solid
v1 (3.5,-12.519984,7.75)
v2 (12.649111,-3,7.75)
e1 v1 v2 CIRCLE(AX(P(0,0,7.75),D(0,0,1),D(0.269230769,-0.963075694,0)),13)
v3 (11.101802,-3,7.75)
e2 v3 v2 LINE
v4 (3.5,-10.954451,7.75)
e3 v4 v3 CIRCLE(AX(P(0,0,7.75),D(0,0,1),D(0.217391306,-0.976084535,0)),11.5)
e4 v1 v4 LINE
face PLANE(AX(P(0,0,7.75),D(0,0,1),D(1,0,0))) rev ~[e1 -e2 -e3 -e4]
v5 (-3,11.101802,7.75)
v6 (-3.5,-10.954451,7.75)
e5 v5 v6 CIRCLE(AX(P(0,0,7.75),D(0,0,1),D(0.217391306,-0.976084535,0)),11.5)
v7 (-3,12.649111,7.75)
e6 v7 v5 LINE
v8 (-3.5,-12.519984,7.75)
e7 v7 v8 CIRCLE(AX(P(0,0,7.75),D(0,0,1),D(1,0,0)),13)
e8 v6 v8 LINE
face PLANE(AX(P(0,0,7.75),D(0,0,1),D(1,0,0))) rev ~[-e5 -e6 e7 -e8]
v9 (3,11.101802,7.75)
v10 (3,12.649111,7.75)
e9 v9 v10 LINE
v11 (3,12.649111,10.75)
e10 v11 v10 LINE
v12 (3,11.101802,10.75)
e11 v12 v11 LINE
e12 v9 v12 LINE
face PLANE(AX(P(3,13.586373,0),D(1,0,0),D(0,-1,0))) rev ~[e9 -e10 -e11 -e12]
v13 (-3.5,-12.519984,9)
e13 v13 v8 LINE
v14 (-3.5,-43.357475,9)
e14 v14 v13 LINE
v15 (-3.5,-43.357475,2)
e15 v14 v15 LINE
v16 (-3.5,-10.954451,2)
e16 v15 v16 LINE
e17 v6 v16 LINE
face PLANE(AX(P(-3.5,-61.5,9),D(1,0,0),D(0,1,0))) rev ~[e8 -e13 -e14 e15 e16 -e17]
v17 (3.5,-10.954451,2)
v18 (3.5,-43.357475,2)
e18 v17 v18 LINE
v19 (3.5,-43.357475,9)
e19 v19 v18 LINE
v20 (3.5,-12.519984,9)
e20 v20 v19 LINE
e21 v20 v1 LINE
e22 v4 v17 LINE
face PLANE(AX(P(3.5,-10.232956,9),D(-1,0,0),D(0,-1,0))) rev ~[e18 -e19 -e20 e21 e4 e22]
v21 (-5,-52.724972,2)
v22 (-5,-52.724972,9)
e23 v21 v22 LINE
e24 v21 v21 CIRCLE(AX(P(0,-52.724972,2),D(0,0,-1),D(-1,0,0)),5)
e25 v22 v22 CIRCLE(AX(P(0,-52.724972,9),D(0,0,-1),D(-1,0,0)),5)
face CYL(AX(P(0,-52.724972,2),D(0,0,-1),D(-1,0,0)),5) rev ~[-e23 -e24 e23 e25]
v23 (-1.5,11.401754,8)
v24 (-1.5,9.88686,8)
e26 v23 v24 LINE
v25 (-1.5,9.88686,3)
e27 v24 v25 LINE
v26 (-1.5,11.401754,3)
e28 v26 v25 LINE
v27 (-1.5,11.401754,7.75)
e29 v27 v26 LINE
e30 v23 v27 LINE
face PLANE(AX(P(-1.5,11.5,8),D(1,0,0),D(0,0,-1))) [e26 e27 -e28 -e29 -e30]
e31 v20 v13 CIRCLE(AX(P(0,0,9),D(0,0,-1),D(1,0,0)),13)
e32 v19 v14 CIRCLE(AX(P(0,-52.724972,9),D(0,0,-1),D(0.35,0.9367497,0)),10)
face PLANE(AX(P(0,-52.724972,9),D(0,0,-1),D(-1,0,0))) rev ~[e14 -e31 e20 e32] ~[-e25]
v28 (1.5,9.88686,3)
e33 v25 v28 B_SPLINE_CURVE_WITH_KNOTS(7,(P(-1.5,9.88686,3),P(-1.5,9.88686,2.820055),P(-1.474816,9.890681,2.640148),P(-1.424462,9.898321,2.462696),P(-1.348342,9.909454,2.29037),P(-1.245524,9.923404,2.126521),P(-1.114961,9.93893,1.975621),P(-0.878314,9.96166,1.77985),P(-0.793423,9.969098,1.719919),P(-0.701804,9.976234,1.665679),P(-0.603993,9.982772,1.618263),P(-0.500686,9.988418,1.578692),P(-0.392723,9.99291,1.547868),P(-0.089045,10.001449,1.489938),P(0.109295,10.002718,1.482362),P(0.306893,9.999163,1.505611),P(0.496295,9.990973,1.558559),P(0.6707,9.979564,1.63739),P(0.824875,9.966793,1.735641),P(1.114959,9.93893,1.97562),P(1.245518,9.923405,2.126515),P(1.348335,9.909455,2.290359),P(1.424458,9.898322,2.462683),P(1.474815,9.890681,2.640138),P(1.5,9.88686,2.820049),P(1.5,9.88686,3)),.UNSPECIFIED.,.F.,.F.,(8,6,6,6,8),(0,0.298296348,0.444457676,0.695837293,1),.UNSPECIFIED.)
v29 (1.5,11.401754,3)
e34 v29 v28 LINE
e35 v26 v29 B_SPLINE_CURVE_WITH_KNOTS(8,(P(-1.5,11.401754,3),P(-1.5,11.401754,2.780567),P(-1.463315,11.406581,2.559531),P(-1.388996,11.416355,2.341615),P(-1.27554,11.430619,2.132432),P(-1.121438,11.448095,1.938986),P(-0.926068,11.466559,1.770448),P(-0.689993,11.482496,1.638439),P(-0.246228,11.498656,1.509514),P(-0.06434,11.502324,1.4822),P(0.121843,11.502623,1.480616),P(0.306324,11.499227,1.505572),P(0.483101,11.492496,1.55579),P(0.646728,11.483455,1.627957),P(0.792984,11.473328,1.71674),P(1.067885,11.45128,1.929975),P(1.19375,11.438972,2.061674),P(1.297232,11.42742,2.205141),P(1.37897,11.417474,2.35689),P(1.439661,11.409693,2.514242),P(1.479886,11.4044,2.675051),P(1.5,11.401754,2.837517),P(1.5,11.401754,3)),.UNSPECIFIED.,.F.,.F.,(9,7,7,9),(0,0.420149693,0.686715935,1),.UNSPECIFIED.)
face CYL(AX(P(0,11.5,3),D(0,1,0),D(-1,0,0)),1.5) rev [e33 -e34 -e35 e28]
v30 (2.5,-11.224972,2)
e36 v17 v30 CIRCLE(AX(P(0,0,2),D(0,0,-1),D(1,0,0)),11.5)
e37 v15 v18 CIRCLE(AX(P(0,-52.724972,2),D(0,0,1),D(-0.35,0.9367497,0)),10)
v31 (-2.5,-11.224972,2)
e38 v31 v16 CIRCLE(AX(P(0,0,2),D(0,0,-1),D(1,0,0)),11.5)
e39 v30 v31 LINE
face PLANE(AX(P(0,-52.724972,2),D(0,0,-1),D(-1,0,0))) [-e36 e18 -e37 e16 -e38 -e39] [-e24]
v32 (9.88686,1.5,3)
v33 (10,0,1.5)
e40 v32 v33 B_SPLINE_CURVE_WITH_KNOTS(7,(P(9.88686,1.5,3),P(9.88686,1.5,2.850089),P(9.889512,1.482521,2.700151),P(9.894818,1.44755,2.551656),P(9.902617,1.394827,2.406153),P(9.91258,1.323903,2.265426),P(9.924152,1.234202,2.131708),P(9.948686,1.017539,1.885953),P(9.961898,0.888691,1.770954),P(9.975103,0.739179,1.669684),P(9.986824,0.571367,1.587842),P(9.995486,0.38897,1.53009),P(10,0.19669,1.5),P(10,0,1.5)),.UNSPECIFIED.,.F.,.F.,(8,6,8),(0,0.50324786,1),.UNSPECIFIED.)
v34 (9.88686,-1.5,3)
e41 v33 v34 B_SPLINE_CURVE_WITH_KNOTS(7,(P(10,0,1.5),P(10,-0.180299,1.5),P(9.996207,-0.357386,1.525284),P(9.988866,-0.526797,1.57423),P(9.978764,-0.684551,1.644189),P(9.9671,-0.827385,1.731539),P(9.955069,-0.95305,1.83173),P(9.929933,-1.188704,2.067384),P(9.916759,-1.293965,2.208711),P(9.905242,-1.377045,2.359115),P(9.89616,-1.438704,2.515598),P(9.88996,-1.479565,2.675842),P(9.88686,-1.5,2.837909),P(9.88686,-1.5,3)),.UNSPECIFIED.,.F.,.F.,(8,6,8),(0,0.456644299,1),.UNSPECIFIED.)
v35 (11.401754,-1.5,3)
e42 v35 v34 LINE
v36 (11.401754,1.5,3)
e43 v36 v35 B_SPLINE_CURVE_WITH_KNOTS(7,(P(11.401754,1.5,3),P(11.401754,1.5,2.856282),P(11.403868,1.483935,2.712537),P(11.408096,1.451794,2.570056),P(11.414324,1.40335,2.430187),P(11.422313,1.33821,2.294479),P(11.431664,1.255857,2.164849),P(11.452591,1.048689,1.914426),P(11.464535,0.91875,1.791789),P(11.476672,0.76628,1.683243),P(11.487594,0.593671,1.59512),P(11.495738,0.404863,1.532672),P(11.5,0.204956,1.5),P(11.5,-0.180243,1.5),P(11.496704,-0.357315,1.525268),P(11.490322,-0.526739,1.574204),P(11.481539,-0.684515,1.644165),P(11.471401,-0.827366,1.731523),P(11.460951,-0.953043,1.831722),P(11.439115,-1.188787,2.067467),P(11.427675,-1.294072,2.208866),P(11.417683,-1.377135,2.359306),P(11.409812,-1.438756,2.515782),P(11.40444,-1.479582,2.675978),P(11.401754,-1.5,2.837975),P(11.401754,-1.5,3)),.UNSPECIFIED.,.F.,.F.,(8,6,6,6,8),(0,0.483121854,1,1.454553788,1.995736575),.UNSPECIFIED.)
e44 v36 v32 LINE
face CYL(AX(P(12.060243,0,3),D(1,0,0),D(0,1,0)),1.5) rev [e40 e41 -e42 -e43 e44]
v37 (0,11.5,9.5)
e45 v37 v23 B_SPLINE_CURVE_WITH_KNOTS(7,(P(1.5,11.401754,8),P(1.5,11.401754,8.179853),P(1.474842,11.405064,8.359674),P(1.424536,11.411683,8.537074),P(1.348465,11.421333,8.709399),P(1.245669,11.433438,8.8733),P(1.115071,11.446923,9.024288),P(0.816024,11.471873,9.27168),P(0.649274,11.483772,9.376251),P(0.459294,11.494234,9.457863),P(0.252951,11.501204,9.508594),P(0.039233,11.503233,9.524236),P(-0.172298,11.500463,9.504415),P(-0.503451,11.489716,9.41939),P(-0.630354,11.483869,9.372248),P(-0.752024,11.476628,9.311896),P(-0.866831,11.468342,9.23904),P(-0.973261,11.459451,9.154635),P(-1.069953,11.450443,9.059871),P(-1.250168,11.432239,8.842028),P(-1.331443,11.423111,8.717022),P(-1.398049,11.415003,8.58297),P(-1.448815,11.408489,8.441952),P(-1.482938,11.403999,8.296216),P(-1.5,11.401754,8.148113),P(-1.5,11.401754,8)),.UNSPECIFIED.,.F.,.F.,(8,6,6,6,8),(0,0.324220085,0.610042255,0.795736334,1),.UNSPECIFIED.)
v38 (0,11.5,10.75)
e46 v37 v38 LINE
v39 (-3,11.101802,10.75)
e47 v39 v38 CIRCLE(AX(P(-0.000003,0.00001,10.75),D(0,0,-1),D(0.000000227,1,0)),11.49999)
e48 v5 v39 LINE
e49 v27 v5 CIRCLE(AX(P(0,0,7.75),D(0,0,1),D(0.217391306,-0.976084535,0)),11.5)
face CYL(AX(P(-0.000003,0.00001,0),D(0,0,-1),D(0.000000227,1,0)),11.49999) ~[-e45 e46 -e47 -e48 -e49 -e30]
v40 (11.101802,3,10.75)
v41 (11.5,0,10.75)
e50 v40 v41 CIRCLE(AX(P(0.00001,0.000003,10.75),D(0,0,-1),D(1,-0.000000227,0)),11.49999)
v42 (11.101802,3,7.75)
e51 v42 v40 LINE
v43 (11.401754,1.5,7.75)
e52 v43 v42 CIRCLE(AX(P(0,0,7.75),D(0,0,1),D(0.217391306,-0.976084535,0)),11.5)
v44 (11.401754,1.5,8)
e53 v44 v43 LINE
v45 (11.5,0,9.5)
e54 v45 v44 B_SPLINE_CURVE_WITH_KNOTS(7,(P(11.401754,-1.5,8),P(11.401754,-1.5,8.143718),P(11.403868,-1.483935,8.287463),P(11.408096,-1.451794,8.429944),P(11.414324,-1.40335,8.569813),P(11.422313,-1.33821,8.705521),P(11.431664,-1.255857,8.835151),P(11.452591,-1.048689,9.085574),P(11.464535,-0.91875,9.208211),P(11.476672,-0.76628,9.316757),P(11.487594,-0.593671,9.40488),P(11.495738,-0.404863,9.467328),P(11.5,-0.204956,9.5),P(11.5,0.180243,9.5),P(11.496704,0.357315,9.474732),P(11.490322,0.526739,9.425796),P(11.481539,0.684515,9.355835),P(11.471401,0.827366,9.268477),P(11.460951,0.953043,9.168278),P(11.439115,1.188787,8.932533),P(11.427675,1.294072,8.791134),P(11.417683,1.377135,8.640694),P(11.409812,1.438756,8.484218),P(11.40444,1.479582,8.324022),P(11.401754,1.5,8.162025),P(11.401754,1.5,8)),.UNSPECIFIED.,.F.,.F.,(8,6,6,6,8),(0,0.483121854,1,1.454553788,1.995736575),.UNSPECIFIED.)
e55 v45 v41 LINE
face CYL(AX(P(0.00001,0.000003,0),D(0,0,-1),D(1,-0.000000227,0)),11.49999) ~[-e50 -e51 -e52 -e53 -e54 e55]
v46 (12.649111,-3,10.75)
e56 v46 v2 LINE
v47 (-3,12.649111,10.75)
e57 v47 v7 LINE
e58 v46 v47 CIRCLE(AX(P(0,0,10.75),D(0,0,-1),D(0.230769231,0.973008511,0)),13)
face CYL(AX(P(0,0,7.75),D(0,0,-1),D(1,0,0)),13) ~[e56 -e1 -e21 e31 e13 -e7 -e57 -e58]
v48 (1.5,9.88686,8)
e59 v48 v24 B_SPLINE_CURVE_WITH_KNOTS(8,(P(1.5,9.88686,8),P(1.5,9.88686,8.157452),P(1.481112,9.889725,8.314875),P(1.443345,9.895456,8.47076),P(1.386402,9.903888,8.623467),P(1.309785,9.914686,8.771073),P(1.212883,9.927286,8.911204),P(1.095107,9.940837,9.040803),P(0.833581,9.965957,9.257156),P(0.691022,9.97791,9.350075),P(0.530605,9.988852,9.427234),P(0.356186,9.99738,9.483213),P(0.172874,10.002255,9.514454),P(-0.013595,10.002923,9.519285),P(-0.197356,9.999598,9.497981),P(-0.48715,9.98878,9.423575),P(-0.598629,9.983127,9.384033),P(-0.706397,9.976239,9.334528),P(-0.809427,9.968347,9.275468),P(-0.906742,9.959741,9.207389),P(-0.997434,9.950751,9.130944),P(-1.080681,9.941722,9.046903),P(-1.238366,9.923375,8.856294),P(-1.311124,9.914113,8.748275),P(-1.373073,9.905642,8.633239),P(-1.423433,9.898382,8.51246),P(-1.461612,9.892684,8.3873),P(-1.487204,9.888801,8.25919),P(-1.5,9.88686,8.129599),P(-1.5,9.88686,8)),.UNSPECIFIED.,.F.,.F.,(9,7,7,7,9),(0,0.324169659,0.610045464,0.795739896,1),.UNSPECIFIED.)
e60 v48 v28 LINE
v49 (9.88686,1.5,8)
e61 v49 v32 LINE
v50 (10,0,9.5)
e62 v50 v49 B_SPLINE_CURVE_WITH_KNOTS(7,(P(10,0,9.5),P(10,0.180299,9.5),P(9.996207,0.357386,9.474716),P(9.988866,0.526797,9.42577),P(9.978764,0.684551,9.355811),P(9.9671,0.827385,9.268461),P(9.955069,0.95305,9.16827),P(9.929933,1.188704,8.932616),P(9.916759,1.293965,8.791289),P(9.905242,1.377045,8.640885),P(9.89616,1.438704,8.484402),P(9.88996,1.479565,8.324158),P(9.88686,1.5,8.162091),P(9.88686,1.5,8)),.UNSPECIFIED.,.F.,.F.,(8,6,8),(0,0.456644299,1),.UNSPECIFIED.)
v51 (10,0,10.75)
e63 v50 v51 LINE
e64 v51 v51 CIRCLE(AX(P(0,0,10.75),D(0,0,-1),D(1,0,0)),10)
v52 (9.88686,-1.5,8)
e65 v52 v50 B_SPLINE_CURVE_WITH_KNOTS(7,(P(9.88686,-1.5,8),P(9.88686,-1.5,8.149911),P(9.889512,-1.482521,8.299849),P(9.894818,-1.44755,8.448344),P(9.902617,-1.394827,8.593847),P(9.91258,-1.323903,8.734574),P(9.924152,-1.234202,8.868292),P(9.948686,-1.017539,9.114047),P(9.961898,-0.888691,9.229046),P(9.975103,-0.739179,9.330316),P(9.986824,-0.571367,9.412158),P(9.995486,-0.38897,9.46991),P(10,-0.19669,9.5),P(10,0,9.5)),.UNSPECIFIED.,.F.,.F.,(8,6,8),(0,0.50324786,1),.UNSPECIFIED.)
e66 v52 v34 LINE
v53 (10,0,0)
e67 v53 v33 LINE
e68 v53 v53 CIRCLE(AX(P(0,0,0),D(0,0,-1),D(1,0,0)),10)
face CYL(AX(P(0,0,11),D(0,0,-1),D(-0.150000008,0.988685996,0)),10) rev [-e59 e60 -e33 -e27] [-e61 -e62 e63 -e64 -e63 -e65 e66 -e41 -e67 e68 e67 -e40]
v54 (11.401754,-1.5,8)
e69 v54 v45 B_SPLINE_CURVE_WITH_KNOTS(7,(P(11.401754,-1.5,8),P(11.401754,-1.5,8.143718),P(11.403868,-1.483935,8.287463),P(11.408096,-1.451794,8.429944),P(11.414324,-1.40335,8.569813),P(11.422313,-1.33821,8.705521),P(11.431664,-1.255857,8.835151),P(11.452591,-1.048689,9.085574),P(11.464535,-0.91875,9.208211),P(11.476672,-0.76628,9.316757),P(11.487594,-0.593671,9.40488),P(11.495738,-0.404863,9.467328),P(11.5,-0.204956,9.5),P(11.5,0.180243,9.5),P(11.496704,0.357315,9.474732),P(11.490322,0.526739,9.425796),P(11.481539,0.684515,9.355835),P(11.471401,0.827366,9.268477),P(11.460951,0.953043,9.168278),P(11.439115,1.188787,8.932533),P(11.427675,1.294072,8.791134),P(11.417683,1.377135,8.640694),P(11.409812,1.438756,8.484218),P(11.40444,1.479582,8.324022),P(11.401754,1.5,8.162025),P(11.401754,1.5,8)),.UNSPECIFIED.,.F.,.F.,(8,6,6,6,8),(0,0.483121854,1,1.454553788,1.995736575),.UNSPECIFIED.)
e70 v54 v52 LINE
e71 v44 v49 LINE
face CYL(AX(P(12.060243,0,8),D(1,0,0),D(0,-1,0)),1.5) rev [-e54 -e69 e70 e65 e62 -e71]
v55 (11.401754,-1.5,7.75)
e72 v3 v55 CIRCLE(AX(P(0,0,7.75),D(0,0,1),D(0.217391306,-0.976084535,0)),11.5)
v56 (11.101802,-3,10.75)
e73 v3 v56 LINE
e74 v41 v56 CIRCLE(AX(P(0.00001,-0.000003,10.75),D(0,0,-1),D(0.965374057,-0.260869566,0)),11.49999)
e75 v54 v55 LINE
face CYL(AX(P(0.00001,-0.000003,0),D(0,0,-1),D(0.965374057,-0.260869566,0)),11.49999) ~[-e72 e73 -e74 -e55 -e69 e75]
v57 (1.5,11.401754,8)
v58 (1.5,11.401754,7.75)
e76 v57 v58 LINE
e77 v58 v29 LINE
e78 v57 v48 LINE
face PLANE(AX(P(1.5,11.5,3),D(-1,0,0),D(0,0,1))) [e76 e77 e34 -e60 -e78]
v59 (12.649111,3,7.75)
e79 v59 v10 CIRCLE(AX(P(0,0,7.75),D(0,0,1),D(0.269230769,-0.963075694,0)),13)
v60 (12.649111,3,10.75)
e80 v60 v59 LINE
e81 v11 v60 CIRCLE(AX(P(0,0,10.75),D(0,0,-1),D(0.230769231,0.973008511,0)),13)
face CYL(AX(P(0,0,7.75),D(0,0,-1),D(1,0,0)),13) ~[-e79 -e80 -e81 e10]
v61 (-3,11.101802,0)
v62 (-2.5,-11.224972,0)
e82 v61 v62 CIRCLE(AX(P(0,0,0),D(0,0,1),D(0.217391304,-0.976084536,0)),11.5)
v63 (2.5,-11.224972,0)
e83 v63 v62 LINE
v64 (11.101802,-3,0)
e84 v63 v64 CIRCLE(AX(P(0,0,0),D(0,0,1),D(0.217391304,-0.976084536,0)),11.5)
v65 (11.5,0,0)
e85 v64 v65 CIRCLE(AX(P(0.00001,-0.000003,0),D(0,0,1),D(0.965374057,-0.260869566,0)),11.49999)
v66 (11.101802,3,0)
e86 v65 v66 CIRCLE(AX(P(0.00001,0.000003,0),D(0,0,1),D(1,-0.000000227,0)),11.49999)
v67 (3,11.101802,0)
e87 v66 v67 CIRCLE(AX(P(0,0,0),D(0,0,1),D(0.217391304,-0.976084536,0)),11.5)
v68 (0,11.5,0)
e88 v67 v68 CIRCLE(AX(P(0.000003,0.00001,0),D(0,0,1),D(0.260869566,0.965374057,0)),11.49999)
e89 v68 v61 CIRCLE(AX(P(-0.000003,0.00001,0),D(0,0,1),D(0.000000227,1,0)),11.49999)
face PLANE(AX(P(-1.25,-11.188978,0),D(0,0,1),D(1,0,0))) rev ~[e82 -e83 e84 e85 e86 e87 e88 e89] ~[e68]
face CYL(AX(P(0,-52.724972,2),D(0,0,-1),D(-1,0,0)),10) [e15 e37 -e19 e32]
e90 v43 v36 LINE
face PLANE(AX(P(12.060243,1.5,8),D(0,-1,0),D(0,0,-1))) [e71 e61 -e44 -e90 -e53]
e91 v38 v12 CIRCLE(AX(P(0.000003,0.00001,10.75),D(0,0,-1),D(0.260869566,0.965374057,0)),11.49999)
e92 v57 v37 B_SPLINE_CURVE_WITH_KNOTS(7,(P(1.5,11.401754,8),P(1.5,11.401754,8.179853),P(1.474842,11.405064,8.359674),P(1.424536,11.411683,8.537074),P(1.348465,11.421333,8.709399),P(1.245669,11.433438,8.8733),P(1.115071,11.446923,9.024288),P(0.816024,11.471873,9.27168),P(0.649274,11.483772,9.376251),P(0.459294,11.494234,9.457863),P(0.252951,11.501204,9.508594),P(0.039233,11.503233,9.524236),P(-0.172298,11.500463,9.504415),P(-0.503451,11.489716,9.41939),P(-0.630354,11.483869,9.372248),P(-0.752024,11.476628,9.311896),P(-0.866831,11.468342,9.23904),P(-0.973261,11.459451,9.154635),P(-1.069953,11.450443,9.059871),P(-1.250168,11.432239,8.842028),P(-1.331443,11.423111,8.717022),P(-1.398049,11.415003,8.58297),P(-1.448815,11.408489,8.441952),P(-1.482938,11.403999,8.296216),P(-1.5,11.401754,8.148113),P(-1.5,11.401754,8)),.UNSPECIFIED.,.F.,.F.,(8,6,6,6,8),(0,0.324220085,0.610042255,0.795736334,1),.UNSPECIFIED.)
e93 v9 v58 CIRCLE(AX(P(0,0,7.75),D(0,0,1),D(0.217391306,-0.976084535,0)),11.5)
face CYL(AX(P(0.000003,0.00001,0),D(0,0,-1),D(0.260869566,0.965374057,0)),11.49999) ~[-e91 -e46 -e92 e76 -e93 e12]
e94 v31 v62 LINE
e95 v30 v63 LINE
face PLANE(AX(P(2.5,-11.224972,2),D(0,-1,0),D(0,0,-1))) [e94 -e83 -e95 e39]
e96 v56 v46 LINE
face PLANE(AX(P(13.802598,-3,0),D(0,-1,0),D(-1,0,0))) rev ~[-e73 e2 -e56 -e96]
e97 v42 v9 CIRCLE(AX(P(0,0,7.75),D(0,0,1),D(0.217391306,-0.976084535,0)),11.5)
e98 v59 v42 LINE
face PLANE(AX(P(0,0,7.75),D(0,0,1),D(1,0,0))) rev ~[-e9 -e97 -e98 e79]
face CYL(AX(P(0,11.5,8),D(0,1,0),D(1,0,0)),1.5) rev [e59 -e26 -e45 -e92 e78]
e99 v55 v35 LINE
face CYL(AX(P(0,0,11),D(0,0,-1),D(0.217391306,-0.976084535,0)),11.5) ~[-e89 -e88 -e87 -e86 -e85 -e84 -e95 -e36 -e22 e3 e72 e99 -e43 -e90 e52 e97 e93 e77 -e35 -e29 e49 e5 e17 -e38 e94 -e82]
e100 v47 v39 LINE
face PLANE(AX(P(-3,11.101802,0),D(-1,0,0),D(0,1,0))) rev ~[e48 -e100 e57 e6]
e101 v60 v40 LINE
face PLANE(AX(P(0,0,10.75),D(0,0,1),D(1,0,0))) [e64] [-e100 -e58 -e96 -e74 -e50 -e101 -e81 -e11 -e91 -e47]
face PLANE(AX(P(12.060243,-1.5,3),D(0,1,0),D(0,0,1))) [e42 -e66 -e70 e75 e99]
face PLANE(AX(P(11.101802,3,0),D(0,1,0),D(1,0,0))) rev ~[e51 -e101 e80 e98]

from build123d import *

# Parameters (mm, degrees)
CROQUIS1_R               = 10
SALIENTE_EXTRUIR1_DEPTH  = 3
CROQUIS2_R               = 11.5
CROQUIS2_R_2             = 10
SALIENTE_EXTRUIR3_DEPTH  = 8
SALIENTE_EXTRUIR4_START  = 3
CROQUIS3_R               = 11.5
CROQUIS3_R_2             = 10
SALIENTE_EXTRUIR4_DEPTH  = 3
CORTAR_EXTRUIR1_DEPTH    = 8
SALIENTE_EXTRUIR5_DEPTH  = 8
CORTAR_EXTRUIR2_DEPTH    = 8
CROQUIS11_W              = 0.560243
CROQUIS11_H              = 6
CORTAR_EXTRUIR3_DEPTH    = 8
CROQUIS12_W              = 2.5
CROQUIS12_H              = 0.622045
SALIENTE_EXTRUIR6_DEPTH  = 3
CROQUIS13_W              = 5
CROQUIS13_H              = 50.275028
SALIENTE_EXTRUIR7_DEPTH  = 8
CROQUIS15_W              = 2
CROQUIS15_H              = 50.275028
CORTAR_EXTRUIR4_DEPTH    = 8
SALIENTE_EXTRUIR8_DEPTH  = 7
CROQUIS21_R              = 10
SALIENTE_EXTRUIR9_DEPTH  = 7
CROQUIS22_R              = 5
CORTAR_EXTRUIR5_DEPTH    = 30
CROQUIS23_R              = 10
SALIENTE_EXTRUIR10_DEPTH = 1.25
CORTAR_EXTRUIR6_START    = -1.5
CROQUIS24_R              = 10
CORTAR_EXTRUIR6_DEPTH    = 1.5
SALIENTE_EXTRUIR11_START = -3
CROQUIS25_R              = 13
SALIENTE_EXTRUIR11_DEPTH = 3
CORTAR_EXTRUIR10_DEPTH   = 13
CORTAR_EXTRUIR11_DEPTH   = 13
CORTAR_EXTRUIR14_START   = -10
CROQUIS30_R              = 10
CORTAR_EXTRUIR14_DEPTH   = 10


with BuildPart() as part:
    # Croquis1 → Saliente-Extruir1 (new body)
    with BuildSketch(Plane.XY):
        Circle(CROQUIS1_R)
    extrude(amount=SALIENTE_EXTRUIR1_DEPTH)



with BuildPart() as body_2:
    # Croquis2 → Saliente-Extruir3 (new body)
    with BuildSketch(Plane.XY.offset(3)):
        Circle(CROQUIS2_R)
        Circle(CROQUIS2_R_2, mode=Mode.SUBTRACT)
    extrude(amount=SALIENTE_EXTRUIR3_DEPTH)


with BuildPart() as part_1:
    add(part.part)

    add(body_2.part)  # Saliente-Extruir4 merges body 2
    # Croquis3 → Saliente-Extruir4 (add)
    with BuildSketch(Plane(origin=(0, 0, 3), x_dir=(-1, 0, 0), z_dir=(0, 0, -1)).offset(SALIENTE_EXTRUIR4_START)):
        with Locations(Location((0, 0, 0), (0, 0, 180))):
            Circle(CROQUIS3_R)
        with Locations(Location((0, 0, 0), (0, 0, 180))):
            Circle(CROQUIS3_R_2, mode=Mode.SUBTRACT)
    extrude(amount=-SALIENTE_EXTRUIR4_DEPTH)

    # Croquis4 → Cortar-Extruir1 (cut)
    with BuildSketch(Plane(origin=(0, 11.5, 0), x_dir=(1, 0, 0), z_dir=(0, 1, 0))):
        with BuildLine():
            Line((-1.5, -8), (-1.5, -3))
            ThreePointArc((-1.5, -3), (0, -1.5), (1.5, -3))
            Line((1.5, -3), (1.5, -8))
            ThreePointArc((1.5, -8), (0, -9.5), (-1.5, -8))
        make_face()
    extrude(amount=-CORTAR_EXTRUIR1_DEPTH, mode=Mode.SUBTRACT)


with BuildPart() as body_2_2:
    # Croquis9 → Saliente-Extruir5 (new body)
    with BuildSketch(Plane.XY.offset(11)):
        Polygon((11.5, 0), (11.5, 3), (12.060243, 3), (12.060243, -3), (11.5, -3), align=None)
    extrude(amount=-SALIENTE_EXTRUIR5_DEPTH)


with BuildPart() as cortar_extruir2_tool:
    # Croquis10 → Cortar-Extruir2 (new body)
    with BuildSketch(Plane(origin=(12.060243, 0, 0), x_dir=(0, 0, -1), z_dir=(1, 0, 0))):
        with BuildLine():
            Line((-3, -1.5), (-8, -1.5))
            ThreePointArc((-8, -1.5), (-9.5, 0), (-8, 1.5))
            Line((-8, 1.5), (-3, 1.5))
            ThreePointArc((-3, 1.5), (-1.5, 0), (-3, -1.5))
        make_face()
    extrude(amount=-CORTAR_EXTRUIR2_DEPTH)


with BuildPart() as part_2:
    add(part_1.part)

    # Cortar-Extruir2: cut by cortar_extruir2_tool
    add(cortar_extruir2_tool.part, mode=Mode.SUBTRACT)

    # Croquis12 → Saliente-Extruir6 (add)
    with BuildSketch(Plane.XY.offset(3)):
        with Locations((-1.25, -11.188978)):
            Rectangle(CROQUIS12_W, CROQUIS12_H)
        with Locations((1.25, -11.188978)):
            Rectangle(CROQUIS12_W, CROQUIS12_H)
        Polygon((2.5, -11.5), (2.5, -61.5), (-2.5, -61.5), (-2.5, -11.5), (0, -11.5), align=None)
    extrude(amount=-SALIENTE_EXTRUIR6_DEPTH)

    # Croquis13 → Saliente-Extruir7 (add)
    with BuildSketch(Plane.XY.offset(3)):
        with Locations((0, -36.362486)):
            Rectangle(CROQUIS13_W, CROQUIS13_H)
    extrude(amount=SALIENTE_EXTRUIR7_DEPTH)

    # Croquis15 → Cortar-Extruir4 (cut)
    with BuildSketch(Plane(origin=(2.5, 0, 0), x_dir=(0, 0, -1), z_dir=(1, 0, 0))):
        with Locations((-10, -36.362486)):
            Rectangle(CROQUIS15_W, CROQUIS15_H)
        with Locations((-1, -36.362486)):
            Rectangle(CROQUIS15_W, CROQUIS15_H)
    extrude(amount=-CORTAR_EXTRUIR4_DEPTH, mode=Mode.SUBTRACT)

    # Croquis16 → Saliente-Extruir8 (add)
    with BuildSketch(Plane.XY.offset(9)):
        Polygon((-2.5, -61.5), (-3.5, -61.5), (-3.5, -10.232956), (3.5, -10.232956), (3.5, -61.5), (2.5, -61.5), align=None)
    extrude(amount=-SALIENTE_EXTRUIR8_DEPTH)

    # Croquis21 → Saliente-Extruir9 (add)
    with BuildSketch(Plane(origin=(0, 0, 2), x_dir=(-1, 0, 0), z_dir=(0, 0, -1))):
        with Locations((0, -52.724972)):
            Circle(CROQUIS21_R)
    extrude(amount=-SALIENTE_EXTRUIR9_DEPTH)

    # Croquis22 → Cortar-Extruir5 (cut)
    with BuildSketch(Plane(origin=(0, 0, 2), x_dir=(-1, 0, 0), z_dir=(0, 0, -1))):
        with Locations((0, -52.724972)):
            Circle(CROQUIS22_R)
    extrude(amount=-CORTAR_EXTRUIR5_DEPTH, mode=Mode.SUBTRACT)

    # Croquis23 → Saliente-Extruir10 (add)
    with BuildSketch(Plane.XY.offset(11)):
        with BuildLine():
            Line((-2.5, -11.224972), (2.5, -11.224972))
            ThreePointArc((2.5, -11.224972), (0, 11.5), (-2.5, -11.224972))
        make_face()
        with Locations(Location((0, 0, 0), (0, 0, 98.626927))):
            Circle(CROQUIS23_R, mode=Mode.SUBTRACT)
    extrude(amount=SALIENTE_EXTRUIR10_DEPTH)

    # Croquis24 → Cortar-Extruir6 (cut)
    with BuildSketch(Plane.XY.offset(12.25).offset(CORTAR_EXTRUIR6_START)):
        with BuildLine():
            Line((-2.5, -11.224972), (2.5, -11.224972))
            ThreePointArc((2.5, -11.224972), (0, 11.5), (-2.5, -11.224972))
        make_face()
        with Locations(Location((0, 0, 0), (0, 0, 98.626927))):
            Circle(CROQUIS24_R, mode=Mode.SUBTRACT)
    extrude(amount=CORTAR_EXTRUIR6_DEPTH, mode=Mode.SUBTRACT)

    # Croquis25 → Saliente-Extruir11 (add)
    with BuildSketch(Plane.XY.offset(10.75).offset(SALIENTE_EXTRUIR11_START)):
        Circle(CROQUIS25_R)
        with BuildLine():
            ThreePointArc((2.5, -11.224972), (0, 11.5), (-2.5, -11.224972))
            Line((-2.5, -11.224972), (2.5, -11.224972))
        make_face(mode=Mode.SUBTRACT)
    extrude(amount=SALIENTE_EXTRUIR11_DEPTH)

    # Croquis27 → Cortar-Extruir10 (cut)
    with BuildSketch(Plane(origin=(0, 0, 0), x_dir=(-1, 0, 0), z_dir=(0, 0, -1))):
        with BuildLine():
            ThreePointArc((-3, 11.101802), (-1.513156, 11.400016), (0, 11.5))
            Line((0, 11.5), (-3, 11.5))
            Line((-3, 11.5), (-3, 11.369881))
            Line((-3, 11.369881), (-3, 11.101802))
        make_face()
        with BuildLine():
            Line((3, 11.369881), (3, 11.5))
            Line((3, 11.5), (0, 11.5))
            ThreePointArc((0, 11.5), (1.513156, 11.400016), (3, 11.101802))
            Line((3, 11.101802), (3, 11.369881))
        make_face()
        Polygon((0, 11.5), (3, 11.5), (3, 12.649111), (3, 13.586373), (-0.001501, 13.586373), (-3, 13.586373), (-3, 11.5), align=None)
    extrude(amount=-CORTAR_EXTRUIR10_DEPTH, mode=Mode.SUBTRACT)

    # Croquis28 → Cortar-Extruir11 (cut)
    with BuildSketch(Plane(origin=(0, 0, 0), x_dir=(-1, 0, 0), z_dir=(0, 0, -1))):
        Polygon((-13.802598, 3), (-11.5, 3), (-11.5, 0), (-11.5, -3), (-13.802598, -3), align=None)
        with BuildLine():
            Line((-11.5, 3), (-11.5, 0))
            ThreePointArc((-11.5, 0), (-11.400016, 1.513156), (-11.101802, 3))
            Line((-11.101802, 3), (-11.5, 3))
        make_face()
        with BuildLine():
            ThreePointArc((-11.101802, -3), (-11.400016, -1.513156), (-11.5, 0))
            Line((-11.5, 0), (-11.5, -3))
            Line((-11.5, -3), (-11.101802, -3))
        make_face()
    extrude(amount=-CORTAR_EXTRUIR11_DEPTH, mode=Mode.SUBTRACT)

    # Croquis30 → Cortar-Extruir14 (cut)
    with BuildSketch(Plane.XY.offset(3).offset(CORTAR_EXTRUIR14_START)):
        Circle(CROQUIS30_R)
    extrude(amount=CORTAR_EXTRUIR14_DEPTH, mode=Mode.SUBTRACT)


with BuildPart() as body_2_2_1:
    add(body_2_2.part)

    # Cortar-Extruir2: cut by cortar_extruir2_tool
    add(cortar_extruir2_tool.part, mode=Mode.SUBTRACT)

    # Croquis11 → Cortar-Extruir3 (cut)
    with BuildSketch(Plane.XY.offset(11)):
        with Locations((11.780121, 0)):
            Rectangle(CROQUIS11_W, CROQUIS11_H)
    extrude(amount=-CORTAR_EXTRUIR3_DEPTH, mode=Mode.SUBTRACT)


solid = part_2.part
